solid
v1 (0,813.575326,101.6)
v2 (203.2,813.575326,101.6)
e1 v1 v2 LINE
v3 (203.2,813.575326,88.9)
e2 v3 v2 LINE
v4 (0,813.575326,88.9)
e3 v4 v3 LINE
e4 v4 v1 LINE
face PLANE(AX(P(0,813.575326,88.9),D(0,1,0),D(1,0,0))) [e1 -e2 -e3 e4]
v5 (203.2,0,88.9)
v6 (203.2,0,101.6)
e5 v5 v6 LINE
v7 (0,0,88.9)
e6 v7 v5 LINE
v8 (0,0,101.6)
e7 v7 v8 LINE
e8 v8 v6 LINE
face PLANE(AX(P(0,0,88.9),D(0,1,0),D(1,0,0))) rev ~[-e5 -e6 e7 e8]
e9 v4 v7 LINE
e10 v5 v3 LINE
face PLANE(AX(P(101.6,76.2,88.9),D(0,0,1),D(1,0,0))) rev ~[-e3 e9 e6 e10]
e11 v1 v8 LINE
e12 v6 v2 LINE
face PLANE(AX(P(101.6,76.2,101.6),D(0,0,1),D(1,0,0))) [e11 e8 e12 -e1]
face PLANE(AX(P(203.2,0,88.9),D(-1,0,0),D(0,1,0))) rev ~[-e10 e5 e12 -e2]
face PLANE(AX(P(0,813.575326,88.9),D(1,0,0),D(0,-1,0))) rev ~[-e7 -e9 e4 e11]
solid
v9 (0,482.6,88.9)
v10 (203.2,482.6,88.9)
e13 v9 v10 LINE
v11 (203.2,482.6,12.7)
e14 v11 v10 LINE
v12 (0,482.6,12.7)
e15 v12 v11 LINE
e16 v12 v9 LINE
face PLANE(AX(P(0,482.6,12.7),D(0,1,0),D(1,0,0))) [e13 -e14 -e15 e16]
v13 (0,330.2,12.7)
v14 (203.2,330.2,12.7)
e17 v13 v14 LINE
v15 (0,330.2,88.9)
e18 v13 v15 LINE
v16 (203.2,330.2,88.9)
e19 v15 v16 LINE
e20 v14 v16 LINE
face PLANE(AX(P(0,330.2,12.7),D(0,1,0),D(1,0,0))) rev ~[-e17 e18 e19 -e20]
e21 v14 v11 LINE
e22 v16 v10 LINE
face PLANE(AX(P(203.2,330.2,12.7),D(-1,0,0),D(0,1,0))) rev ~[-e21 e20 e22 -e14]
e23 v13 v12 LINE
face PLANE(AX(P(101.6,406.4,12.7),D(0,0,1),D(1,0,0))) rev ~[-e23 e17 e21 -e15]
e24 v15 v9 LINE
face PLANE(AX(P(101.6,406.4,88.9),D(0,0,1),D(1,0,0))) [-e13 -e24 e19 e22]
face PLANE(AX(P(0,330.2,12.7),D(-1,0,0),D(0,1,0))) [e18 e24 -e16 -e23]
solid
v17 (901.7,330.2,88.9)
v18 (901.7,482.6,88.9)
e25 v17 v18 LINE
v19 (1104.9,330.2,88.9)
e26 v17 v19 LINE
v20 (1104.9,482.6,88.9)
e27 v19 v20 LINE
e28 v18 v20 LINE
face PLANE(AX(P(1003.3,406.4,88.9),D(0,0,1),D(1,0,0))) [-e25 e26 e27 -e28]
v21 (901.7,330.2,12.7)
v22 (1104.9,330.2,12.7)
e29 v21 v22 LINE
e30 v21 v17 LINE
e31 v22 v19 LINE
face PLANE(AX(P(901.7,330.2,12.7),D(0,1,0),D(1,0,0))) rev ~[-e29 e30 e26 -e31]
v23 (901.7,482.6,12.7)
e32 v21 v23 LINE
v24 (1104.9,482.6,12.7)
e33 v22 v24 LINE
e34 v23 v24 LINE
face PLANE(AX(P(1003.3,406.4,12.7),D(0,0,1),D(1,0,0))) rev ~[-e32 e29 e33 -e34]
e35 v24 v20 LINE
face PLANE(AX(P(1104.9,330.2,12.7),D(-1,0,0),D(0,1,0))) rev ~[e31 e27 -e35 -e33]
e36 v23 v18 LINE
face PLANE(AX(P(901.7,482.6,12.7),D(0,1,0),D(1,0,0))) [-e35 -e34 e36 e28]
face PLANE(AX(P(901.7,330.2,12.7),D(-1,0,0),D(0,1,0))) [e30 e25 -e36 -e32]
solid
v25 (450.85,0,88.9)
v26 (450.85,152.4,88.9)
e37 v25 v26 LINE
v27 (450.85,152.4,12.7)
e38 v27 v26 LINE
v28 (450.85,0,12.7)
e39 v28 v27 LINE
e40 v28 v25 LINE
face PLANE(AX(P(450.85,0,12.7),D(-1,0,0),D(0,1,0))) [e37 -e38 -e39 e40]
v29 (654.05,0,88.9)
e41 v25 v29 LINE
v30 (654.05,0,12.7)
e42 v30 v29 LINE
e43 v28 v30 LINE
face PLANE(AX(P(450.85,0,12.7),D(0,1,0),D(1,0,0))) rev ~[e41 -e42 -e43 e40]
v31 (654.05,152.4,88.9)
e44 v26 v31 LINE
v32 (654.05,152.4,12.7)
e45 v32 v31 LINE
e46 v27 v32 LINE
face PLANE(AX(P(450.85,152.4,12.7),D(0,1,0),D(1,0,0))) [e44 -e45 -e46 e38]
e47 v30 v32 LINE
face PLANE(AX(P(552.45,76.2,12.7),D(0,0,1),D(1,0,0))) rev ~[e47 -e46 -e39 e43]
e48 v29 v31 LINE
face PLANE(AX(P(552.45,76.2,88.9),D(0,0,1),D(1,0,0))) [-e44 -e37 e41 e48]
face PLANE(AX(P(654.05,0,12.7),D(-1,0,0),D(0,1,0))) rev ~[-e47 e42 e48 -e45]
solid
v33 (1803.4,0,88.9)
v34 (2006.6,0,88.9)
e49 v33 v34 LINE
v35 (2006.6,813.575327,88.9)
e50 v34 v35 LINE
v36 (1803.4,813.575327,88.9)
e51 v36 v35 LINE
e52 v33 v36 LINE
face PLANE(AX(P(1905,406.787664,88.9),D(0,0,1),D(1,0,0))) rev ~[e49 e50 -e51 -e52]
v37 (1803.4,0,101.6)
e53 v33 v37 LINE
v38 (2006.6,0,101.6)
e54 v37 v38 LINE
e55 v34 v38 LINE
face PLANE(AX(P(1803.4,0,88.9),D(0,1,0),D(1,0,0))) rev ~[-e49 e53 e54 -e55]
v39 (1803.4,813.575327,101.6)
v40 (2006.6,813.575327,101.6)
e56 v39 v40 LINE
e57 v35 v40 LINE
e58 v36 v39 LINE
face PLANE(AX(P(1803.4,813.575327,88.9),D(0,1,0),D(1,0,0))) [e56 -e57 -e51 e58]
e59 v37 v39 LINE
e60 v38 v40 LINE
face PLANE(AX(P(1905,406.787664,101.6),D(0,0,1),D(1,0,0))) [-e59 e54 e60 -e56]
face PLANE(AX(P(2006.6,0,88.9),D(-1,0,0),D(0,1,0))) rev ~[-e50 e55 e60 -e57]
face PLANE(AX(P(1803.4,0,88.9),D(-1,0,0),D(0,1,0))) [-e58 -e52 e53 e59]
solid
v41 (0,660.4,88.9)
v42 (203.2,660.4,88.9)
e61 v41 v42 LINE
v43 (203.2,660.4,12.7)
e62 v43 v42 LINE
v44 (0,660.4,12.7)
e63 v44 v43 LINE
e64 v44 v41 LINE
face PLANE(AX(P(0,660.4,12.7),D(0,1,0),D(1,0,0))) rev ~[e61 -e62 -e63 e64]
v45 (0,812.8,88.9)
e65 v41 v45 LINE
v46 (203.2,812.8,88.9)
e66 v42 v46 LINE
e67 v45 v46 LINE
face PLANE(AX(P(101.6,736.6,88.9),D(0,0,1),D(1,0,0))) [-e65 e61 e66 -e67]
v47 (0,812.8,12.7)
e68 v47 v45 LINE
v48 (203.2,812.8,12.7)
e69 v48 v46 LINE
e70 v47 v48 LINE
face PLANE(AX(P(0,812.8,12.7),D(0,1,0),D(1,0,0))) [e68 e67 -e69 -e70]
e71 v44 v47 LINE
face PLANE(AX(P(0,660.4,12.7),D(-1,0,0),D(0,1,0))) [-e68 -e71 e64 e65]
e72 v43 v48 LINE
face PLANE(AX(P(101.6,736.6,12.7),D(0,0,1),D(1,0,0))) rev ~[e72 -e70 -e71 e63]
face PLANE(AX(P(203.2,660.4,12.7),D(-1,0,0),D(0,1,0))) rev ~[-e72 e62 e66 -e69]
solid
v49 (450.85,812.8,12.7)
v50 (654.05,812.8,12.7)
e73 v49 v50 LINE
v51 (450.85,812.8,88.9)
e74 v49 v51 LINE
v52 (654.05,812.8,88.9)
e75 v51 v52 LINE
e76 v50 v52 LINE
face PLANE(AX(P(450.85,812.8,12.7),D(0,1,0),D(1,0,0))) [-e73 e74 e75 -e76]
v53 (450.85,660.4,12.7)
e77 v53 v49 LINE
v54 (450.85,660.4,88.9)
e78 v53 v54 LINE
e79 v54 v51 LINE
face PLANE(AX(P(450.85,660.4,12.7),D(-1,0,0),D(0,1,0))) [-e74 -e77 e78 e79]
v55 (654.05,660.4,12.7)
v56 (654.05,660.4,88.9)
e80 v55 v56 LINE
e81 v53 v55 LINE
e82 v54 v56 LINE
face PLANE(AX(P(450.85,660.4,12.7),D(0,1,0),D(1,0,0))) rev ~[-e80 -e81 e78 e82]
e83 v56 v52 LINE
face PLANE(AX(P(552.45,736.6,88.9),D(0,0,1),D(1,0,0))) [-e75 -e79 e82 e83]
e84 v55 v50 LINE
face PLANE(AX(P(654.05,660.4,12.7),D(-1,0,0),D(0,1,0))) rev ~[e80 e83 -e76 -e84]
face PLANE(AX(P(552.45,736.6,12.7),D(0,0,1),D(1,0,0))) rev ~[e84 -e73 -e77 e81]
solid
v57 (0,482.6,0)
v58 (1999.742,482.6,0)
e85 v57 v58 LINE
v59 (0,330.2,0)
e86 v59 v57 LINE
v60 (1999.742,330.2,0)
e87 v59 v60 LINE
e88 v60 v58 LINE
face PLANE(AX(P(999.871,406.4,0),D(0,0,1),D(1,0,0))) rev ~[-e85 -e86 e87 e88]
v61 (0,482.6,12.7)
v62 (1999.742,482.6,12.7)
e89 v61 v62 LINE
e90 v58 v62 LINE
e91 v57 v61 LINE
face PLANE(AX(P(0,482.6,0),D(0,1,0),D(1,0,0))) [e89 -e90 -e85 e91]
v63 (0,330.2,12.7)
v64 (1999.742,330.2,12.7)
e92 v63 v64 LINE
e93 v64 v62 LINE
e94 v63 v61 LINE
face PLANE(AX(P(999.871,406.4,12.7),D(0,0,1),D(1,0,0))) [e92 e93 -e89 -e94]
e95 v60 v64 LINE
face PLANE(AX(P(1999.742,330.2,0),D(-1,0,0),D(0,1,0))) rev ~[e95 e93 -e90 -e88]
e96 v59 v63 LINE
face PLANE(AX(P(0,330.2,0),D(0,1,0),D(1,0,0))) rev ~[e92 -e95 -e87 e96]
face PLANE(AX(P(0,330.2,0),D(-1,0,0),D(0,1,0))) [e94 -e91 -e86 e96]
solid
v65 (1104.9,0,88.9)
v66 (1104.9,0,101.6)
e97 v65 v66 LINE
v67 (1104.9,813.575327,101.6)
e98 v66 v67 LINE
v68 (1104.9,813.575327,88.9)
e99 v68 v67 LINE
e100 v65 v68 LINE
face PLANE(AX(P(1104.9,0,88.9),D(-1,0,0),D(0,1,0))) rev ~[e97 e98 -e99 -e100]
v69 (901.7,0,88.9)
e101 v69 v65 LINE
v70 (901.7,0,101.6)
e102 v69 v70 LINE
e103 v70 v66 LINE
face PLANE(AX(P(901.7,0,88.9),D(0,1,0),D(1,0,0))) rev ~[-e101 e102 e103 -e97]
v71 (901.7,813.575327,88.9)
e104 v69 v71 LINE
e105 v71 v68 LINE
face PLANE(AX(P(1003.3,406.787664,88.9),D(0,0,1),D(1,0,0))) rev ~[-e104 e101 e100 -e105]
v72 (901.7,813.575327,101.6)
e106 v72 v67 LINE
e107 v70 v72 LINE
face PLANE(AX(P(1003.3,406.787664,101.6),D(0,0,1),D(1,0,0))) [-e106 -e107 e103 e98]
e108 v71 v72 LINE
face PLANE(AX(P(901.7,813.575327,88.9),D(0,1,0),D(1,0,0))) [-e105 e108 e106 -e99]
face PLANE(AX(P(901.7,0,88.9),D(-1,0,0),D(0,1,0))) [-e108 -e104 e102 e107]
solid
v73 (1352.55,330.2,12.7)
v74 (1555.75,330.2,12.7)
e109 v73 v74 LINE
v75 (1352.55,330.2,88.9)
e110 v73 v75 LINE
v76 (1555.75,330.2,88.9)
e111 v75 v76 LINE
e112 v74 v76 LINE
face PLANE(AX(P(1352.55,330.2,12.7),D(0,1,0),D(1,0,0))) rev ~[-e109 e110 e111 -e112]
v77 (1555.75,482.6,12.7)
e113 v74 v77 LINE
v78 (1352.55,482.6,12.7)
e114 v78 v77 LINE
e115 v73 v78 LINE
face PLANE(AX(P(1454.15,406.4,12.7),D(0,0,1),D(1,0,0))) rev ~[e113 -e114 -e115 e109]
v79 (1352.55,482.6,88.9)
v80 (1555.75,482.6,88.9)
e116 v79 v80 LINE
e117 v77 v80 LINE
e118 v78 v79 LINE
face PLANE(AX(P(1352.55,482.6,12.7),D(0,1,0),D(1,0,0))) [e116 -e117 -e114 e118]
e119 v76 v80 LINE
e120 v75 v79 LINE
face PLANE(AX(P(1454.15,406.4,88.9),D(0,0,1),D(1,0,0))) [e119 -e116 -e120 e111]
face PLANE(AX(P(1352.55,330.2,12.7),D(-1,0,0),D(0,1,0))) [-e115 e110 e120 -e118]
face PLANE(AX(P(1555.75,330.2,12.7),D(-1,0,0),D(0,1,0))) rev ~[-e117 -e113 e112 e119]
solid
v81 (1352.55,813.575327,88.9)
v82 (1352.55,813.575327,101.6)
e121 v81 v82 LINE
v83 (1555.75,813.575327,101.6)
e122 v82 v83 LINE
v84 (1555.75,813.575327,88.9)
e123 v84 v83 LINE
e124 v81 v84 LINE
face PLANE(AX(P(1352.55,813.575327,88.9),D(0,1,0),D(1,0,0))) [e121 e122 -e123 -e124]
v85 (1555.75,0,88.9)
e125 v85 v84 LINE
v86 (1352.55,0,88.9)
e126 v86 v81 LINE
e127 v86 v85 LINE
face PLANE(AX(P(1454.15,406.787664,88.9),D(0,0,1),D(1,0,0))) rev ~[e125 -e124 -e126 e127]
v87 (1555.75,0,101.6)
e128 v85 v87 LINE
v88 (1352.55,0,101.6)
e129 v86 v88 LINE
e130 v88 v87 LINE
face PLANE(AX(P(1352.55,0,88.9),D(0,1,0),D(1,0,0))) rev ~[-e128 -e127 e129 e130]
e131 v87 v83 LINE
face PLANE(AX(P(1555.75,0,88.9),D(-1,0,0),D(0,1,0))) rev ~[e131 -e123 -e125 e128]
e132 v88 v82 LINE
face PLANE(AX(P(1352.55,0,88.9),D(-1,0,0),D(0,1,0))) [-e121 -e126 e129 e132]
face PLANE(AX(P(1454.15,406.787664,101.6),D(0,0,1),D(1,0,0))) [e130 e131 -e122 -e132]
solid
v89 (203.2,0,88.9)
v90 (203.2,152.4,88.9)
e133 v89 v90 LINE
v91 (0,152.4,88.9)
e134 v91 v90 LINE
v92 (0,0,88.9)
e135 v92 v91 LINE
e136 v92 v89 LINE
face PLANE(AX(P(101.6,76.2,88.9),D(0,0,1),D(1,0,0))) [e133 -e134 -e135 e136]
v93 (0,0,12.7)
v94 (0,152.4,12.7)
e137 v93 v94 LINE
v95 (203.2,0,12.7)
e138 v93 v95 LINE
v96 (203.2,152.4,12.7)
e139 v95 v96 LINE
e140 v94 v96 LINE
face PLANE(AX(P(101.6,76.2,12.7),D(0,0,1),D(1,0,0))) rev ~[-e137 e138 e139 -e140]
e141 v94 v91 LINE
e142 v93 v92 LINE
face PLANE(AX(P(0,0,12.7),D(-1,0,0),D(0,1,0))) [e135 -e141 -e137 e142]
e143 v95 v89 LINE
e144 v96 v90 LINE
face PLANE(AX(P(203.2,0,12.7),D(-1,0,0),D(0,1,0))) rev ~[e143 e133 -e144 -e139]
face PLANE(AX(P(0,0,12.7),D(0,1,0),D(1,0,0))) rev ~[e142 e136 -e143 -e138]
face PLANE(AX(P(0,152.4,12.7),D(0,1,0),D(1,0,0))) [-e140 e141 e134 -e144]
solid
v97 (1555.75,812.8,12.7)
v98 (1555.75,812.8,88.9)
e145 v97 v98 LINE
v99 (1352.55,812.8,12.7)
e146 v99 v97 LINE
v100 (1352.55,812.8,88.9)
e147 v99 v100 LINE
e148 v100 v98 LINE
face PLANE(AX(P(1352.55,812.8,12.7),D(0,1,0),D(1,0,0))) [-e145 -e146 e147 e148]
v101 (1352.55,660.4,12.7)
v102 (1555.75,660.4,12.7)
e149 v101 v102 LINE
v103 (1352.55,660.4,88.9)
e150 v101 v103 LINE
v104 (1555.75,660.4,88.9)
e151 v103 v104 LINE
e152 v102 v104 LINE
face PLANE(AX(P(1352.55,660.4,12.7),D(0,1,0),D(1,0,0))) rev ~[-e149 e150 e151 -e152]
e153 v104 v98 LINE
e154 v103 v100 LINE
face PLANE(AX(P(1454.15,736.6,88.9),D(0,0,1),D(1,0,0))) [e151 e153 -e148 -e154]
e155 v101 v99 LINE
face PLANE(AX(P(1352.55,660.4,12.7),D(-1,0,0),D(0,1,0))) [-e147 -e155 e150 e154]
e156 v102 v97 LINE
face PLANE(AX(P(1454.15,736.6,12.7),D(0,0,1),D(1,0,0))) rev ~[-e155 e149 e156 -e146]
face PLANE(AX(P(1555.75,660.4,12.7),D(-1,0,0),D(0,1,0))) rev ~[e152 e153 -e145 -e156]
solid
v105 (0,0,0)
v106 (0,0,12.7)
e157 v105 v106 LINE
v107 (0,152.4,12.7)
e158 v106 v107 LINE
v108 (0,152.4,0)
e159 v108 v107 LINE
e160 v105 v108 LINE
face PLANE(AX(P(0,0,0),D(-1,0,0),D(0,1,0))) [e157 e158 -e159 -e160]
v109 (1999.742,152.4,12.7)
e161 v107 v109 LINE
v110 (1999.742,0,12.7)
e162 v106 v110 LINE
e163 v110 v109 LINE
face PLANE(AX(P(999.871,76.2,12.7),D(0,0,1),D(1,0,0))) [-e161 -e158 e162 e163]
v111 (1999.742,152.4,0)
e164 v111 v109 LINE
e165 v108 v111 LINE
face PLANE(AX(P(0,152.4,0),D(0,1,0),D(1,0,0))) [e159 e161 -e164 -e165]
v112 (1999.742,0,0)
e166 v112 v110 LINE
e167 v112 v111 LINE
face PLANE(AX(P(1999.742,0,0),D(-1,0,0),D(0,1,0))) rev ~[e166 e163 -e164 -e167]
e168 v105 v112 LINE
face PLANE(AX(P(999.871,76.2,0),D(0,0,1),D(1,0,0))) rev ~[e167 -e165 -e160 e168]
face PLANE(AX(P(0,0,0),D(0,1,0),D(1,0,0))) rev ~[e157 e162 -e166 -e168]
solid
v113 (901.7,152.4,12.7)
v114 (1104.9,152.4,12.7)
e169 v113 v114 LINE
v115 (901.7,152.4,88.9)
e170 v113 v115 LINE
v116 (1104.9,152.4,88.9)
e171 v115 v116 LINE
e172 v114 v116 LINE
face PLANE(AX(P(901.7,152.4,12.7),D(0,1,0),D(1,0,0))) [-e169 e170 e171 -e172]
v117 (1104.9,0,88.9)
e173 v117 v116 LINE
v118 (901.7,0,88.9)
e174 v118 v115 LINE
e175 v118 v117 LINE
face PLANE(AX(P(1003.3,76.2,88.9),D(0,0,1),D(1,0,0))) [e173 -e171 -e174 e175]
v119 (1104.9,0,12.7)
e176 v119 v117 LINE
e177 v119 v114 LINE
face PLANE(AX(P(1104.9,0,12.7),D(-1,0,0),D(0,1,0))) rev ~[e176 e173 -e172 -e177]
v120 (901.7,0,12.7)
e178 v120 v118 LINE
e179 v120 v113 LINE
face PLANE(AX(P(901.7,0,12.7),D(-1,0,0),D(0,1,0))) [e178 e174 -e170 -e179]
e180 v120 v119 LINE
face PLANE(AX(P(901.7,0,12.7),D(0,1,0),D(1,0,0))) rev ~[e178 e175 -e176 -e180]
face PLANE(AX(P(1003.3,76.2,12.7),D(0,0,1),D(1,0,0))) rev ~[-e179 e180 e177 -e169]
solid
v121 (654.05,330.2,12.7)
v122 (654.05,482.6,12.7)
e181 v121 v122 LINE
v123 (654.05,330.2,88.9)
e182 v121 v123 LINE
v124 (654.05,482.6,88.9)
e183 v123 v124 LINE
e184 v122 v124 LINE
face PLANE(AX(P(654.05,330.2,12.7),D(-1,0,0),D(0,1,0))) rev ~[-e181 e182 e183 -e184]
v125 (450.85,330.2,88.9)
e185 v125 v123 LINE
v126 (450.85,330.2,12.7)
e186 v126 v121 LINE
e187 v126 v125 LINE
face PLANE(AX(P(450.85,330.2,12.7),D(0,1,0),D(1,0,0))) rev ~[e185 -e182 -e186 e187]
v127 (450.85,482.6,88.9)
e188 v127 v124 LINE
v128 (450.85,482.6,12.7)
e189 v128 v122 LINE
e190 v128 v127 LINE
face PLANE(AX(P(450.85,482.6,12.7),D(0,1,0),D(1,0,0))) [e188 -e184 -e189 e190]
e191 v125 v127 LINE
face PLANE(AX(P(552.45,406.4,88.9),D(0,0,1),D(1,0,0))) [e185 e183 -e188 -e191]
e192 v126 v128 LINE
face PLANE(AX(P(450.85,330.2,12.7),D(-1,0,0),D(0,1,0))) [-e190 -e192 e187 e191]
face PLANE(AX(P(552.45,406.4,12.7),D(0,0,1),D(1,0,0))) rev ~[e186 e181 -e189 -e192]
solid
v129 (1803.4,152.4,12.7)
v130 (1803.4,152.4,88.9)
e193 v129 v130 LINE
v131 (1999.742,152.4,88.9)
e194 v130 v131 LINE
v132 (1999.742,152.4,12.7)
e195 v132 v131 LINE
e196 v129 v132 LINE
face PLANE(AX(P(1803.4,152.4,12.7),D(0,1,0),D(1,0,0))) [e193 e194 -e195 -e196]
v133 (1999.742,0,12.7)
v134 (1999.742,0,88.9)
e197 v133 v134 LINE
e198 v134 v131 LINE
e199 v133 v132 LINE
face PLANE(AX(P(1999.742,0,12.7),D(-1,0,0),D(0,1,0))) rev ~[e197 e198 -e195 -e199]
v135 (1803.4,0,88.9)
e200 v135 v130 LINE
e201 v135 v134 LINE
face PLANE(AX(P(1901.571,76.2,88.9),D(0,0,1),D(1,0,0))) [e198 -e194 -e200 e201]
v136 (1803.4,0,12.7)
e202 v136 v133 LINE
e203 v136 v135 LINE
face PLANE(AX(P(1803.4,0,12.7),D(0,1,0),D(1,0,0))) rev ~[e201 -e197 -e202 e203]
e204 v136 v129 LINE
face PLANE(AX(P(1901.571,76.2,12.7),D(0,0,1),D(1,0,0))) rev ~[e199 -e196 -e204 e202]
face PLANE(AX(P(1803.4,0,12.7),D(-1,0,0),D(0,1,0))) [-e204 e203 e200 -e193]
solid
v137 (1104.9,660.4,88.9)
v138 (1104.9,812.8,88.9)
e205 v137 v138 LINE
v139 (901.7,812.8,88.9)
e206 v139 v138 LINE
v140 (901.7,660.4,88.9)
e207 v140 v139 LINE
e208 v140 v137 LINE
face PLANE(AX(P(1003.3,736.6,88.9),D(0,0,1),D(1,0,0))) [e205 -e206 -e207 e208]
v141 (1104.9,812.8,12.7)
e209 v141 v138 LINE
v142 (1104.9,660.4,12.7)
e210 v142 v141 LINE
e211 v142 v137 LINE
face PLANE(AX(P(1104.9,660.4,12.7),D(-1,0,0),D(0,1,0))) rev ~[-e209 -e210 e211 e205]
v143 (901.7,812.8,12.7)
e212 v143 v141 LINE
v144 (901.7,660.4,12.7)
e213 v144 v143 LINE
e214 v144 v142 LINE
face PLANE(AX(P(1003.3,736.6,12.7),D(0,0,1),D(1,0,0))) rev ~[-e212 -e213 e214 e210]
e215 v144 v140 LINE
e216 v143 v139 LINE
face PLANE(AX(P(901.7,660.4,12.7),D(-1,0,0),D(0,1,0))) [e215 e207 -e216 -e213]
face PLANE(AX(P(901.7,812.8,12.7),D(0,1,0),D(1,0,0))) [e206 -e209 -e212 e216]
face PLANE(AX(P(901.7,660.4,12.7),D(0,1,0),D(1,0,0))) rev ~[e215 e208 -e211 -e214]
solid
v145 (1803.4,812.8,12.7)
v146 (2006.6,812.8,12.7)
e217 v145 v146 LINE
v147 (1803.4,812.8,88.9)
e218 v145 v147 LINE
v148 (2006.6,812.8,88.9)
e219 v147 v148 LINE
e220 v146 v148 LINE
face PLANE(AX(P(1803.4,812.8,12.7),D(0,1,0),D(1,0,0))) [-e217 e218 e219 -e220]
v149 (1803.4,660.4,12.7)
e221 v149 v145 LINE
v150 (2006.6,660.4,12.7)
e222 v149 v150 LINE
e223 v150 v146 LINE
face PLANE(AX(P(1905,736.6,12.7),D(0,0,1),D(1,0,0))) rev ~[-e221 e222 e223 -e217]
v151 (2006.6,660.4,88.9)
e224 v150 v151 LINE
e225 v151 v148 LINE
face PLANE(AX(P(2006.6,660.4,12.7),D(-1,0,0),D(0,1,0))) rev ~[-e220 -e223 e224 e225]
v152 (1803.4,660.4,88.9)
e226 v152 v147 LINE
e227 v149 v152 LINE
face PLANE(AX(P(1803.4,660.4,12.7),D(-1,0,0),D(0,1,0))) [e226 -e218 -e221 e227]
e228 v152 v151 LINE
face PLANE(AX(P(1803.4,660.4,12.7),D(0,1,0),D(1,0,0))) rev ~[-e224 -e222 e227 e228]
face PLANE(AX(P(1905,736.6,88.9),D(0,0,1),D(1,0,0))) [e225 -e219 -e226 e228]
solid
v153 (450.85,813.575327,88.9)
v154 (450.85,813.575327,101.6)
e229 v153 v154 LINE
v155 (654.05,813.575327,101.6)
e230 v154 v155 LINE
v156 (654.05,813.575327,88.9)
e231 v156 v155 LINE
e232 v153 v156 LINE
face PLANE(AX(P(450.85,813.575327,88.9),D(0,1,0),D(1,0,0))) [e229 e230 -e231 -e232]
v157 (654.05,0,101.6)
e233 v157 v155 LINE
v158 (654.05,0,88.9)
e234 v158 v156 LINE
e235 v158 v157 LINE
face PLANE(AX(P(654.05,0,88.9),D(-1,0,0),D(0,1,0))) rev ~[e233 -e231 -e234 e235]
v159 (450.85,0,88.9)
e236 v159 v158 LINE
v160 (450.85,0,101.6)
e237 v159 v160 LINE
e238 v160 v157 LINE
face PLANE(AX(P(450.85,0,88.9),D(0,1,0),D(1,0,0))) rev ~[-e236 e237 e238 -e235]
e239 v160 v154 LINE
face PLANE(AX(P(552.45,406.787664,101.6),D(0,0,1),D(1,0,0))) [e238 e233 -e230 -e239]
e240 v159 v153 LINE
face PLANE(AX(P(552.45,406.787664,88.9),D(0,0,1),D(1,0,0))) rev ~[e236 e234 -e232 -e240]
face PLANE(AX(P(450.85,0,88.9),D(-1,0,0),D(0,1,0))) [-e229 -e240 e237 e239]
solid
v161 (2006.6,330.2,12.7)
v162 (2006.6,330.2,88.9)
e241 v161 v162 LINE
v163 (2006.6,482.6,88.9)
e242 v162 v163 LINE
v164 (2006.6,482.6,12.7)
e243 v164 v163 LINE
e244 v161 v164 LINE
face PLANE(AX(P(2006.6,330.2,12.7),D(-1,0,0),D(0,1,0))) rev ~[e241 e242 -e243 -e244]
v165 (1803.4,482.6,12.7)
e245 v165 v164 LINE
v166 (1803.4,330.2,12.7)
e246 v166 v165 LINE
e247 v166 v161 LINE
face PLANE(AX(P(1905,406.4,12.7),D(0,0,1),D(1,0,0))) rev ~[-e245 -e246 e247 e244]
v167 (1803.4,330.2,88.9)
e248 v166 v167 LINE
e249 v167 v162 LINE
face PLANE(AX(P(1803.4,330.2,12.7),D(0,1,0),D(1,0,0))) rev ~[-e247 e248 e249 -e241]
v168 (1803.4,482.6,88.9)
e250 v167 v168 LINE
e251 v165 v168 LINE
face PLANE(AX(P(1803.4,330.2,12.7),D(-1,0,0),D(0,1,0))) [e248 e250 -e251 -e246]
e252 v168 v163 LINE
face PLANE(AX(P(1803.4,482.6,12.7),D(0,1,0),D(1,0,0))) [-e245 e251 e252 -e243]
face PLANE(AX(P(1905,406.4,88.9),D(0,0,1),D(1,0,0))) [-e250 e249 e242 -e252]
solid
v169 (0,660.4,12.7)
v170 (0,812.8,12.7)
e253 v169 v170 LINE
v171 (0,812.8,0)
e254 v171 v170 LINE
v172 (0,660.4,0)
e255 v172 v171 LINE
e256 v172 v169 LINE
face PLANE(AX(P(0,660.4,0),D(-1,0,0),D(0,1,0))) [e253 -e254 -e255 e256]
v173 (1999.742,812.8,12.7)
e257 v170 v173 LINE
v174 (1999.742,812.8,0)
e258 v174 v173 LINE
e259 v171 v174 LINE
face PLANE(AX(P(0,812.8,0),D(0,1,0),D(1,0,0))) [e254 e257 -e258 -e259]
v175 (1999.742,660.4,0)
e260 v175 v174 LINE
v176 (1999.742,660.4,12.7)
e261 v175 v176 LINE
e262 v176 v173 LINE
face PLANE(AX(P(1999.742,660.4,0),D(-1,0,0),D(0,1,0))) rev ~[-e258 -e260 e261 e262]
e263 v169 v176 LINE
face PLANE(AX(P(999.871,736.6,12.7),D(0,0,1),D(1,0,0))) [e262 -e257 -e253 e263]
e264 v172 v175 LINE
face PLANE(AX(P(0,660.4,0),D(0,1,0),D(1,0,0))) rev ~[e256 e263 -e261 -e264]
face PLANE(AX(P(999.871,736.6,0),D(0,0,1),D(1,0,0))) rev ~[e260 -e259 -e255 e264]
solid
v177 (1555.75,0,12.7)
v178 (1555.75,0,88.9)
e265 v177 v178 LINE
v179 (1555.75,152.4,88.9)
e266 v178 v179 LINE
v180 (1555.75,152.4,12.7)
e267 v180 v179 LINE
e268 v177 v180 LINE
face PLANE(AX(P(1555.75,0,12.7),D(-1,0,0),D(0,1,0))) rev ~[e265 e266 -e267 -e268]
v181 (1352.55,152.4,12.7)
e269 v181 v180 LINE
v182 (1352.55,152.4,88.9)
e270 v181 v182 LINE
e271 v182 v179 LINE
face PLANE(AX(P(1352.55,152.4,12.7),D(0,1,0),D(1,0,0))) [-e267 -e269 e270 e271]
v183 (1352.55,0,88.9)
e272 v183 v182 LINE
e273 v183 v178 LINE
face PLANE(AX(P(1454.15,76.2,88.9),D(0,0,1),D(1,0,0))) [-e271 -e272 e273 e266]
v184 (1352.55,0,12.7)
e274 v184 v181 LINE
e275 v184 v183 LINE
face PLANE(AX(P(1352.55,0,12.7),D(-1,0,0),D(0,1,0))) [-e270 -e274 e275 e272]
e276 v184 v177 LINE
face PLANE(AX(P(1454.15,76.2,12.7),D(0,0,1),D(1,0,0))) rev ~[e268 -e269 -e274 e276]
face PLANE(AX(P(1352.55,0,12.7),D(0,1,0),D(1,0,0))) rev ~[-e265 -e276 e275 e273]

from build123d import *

# Parameters (mm, degrees)
F0_W     = 1999.742
F0_H     = 152.4
F1_DEPTH = 12.7
F2_W     = 203.2
F2_H     = 152.4
F2_W_2   = 196.342
F3_DEPTH = 76.2
F4_W     = 203.2
F4_H     = 152.4
F4_H_2   = 661.175327
F4_H_3   = 813.575327
F5_DEPTH = 12.7


with BuildPart() as f1:
    # F0 (on Top) → F1 (new body)
    with BuildSketch(Plane.XY):
        with Locations((999.871, 76.2)):
            Rectangle(F0_W, F0_H)
        with Locations((999.871, 406.4)):
            Rectangle(F0_W, F0_H)
        with Locations((999.871, 736.6)):
            Rectangle(F0_W, F0_H)
    extrude(amount=F1_DEPTH)


with BuildPart() as f3:
    # F2 (on face) → F3 (new body)
    with BuildSketch(Plane.XY.offset(12.7)):
        with Locations((101.6, 76.2)):
            Rectangle(F2_W, F2_H)
        with Locations((552.45, 76.2)):
            Rectangle(F2_W, F2_H)
        with Locations((1003.3, 76.2)):
            Rectangle(F2_W, F2_H)
        with Locations((1454.15, 76.2)):
            Rectangle(F2_W, F2_H)
        with Locations((1901.571, 76.2)):
            Rectangle(F2_W_2, F2_H)
        with Locations((1905, 406.4)):
            Rectangle(F2_W, F2_H)
        with Locations((1454.15, 406.4)):
            Rectangle(F2_W, F2_H)
        with Locations((1003.3, 406.4)):
            Rectangle(F2_W, F2_H)
        with Locations((552.45, 406.4)):
            Rectangle(F2_W, F2_H)
        with Locations((101.6, 406.4)):
            Rectangle(F2_W, F2_H)
        with Locations((101.6, 736.6)):
            Rectangle(F2_W, F2_H)
        with Locations((552.45, 736.6)):
            Rectangle(F2_W, F2_H)
        with Locations((1003.3, 736.6)):
            Rectangle(F2_W, F2_H)
        with Locations((1454.15, 736.6)):
            Rectangle(F2_W, F2_H)
        with Locations((1905, 736.6)):
            Rectangle(F2_W, F2_H)
    extrude(amount=F3_DEPTH)


with BuildPart() as f5:
    # F4 (on face) → F5 (new body)
    with BuildSketch(Plane.XY.offset(88.9)):
        with Locations((101.6, 76.2)):
            Rectangle(F4_W, F4_H)
        with Locations((101.6, 482.987663)):
            Rectangle(F4_W, F4_H_2)
        with Locations((552.45, 406.787664)):
            Rectangle(F4_W, F4_H_3)
        with Locations((1003.3, 406.787664)):
            Rectangle(F4_W, F4_H_3)
        with Locations((1454.15, 406.787664)):
            Rectangle(F4_W, F4_H_3)
        with Locations((1905, 406.787664)):
            Rectangle(F4_W, F4_H_3)
    extrude(amount=F5_DEPTH)


solid = Compound([f1.part, f3.part, f5.part])
